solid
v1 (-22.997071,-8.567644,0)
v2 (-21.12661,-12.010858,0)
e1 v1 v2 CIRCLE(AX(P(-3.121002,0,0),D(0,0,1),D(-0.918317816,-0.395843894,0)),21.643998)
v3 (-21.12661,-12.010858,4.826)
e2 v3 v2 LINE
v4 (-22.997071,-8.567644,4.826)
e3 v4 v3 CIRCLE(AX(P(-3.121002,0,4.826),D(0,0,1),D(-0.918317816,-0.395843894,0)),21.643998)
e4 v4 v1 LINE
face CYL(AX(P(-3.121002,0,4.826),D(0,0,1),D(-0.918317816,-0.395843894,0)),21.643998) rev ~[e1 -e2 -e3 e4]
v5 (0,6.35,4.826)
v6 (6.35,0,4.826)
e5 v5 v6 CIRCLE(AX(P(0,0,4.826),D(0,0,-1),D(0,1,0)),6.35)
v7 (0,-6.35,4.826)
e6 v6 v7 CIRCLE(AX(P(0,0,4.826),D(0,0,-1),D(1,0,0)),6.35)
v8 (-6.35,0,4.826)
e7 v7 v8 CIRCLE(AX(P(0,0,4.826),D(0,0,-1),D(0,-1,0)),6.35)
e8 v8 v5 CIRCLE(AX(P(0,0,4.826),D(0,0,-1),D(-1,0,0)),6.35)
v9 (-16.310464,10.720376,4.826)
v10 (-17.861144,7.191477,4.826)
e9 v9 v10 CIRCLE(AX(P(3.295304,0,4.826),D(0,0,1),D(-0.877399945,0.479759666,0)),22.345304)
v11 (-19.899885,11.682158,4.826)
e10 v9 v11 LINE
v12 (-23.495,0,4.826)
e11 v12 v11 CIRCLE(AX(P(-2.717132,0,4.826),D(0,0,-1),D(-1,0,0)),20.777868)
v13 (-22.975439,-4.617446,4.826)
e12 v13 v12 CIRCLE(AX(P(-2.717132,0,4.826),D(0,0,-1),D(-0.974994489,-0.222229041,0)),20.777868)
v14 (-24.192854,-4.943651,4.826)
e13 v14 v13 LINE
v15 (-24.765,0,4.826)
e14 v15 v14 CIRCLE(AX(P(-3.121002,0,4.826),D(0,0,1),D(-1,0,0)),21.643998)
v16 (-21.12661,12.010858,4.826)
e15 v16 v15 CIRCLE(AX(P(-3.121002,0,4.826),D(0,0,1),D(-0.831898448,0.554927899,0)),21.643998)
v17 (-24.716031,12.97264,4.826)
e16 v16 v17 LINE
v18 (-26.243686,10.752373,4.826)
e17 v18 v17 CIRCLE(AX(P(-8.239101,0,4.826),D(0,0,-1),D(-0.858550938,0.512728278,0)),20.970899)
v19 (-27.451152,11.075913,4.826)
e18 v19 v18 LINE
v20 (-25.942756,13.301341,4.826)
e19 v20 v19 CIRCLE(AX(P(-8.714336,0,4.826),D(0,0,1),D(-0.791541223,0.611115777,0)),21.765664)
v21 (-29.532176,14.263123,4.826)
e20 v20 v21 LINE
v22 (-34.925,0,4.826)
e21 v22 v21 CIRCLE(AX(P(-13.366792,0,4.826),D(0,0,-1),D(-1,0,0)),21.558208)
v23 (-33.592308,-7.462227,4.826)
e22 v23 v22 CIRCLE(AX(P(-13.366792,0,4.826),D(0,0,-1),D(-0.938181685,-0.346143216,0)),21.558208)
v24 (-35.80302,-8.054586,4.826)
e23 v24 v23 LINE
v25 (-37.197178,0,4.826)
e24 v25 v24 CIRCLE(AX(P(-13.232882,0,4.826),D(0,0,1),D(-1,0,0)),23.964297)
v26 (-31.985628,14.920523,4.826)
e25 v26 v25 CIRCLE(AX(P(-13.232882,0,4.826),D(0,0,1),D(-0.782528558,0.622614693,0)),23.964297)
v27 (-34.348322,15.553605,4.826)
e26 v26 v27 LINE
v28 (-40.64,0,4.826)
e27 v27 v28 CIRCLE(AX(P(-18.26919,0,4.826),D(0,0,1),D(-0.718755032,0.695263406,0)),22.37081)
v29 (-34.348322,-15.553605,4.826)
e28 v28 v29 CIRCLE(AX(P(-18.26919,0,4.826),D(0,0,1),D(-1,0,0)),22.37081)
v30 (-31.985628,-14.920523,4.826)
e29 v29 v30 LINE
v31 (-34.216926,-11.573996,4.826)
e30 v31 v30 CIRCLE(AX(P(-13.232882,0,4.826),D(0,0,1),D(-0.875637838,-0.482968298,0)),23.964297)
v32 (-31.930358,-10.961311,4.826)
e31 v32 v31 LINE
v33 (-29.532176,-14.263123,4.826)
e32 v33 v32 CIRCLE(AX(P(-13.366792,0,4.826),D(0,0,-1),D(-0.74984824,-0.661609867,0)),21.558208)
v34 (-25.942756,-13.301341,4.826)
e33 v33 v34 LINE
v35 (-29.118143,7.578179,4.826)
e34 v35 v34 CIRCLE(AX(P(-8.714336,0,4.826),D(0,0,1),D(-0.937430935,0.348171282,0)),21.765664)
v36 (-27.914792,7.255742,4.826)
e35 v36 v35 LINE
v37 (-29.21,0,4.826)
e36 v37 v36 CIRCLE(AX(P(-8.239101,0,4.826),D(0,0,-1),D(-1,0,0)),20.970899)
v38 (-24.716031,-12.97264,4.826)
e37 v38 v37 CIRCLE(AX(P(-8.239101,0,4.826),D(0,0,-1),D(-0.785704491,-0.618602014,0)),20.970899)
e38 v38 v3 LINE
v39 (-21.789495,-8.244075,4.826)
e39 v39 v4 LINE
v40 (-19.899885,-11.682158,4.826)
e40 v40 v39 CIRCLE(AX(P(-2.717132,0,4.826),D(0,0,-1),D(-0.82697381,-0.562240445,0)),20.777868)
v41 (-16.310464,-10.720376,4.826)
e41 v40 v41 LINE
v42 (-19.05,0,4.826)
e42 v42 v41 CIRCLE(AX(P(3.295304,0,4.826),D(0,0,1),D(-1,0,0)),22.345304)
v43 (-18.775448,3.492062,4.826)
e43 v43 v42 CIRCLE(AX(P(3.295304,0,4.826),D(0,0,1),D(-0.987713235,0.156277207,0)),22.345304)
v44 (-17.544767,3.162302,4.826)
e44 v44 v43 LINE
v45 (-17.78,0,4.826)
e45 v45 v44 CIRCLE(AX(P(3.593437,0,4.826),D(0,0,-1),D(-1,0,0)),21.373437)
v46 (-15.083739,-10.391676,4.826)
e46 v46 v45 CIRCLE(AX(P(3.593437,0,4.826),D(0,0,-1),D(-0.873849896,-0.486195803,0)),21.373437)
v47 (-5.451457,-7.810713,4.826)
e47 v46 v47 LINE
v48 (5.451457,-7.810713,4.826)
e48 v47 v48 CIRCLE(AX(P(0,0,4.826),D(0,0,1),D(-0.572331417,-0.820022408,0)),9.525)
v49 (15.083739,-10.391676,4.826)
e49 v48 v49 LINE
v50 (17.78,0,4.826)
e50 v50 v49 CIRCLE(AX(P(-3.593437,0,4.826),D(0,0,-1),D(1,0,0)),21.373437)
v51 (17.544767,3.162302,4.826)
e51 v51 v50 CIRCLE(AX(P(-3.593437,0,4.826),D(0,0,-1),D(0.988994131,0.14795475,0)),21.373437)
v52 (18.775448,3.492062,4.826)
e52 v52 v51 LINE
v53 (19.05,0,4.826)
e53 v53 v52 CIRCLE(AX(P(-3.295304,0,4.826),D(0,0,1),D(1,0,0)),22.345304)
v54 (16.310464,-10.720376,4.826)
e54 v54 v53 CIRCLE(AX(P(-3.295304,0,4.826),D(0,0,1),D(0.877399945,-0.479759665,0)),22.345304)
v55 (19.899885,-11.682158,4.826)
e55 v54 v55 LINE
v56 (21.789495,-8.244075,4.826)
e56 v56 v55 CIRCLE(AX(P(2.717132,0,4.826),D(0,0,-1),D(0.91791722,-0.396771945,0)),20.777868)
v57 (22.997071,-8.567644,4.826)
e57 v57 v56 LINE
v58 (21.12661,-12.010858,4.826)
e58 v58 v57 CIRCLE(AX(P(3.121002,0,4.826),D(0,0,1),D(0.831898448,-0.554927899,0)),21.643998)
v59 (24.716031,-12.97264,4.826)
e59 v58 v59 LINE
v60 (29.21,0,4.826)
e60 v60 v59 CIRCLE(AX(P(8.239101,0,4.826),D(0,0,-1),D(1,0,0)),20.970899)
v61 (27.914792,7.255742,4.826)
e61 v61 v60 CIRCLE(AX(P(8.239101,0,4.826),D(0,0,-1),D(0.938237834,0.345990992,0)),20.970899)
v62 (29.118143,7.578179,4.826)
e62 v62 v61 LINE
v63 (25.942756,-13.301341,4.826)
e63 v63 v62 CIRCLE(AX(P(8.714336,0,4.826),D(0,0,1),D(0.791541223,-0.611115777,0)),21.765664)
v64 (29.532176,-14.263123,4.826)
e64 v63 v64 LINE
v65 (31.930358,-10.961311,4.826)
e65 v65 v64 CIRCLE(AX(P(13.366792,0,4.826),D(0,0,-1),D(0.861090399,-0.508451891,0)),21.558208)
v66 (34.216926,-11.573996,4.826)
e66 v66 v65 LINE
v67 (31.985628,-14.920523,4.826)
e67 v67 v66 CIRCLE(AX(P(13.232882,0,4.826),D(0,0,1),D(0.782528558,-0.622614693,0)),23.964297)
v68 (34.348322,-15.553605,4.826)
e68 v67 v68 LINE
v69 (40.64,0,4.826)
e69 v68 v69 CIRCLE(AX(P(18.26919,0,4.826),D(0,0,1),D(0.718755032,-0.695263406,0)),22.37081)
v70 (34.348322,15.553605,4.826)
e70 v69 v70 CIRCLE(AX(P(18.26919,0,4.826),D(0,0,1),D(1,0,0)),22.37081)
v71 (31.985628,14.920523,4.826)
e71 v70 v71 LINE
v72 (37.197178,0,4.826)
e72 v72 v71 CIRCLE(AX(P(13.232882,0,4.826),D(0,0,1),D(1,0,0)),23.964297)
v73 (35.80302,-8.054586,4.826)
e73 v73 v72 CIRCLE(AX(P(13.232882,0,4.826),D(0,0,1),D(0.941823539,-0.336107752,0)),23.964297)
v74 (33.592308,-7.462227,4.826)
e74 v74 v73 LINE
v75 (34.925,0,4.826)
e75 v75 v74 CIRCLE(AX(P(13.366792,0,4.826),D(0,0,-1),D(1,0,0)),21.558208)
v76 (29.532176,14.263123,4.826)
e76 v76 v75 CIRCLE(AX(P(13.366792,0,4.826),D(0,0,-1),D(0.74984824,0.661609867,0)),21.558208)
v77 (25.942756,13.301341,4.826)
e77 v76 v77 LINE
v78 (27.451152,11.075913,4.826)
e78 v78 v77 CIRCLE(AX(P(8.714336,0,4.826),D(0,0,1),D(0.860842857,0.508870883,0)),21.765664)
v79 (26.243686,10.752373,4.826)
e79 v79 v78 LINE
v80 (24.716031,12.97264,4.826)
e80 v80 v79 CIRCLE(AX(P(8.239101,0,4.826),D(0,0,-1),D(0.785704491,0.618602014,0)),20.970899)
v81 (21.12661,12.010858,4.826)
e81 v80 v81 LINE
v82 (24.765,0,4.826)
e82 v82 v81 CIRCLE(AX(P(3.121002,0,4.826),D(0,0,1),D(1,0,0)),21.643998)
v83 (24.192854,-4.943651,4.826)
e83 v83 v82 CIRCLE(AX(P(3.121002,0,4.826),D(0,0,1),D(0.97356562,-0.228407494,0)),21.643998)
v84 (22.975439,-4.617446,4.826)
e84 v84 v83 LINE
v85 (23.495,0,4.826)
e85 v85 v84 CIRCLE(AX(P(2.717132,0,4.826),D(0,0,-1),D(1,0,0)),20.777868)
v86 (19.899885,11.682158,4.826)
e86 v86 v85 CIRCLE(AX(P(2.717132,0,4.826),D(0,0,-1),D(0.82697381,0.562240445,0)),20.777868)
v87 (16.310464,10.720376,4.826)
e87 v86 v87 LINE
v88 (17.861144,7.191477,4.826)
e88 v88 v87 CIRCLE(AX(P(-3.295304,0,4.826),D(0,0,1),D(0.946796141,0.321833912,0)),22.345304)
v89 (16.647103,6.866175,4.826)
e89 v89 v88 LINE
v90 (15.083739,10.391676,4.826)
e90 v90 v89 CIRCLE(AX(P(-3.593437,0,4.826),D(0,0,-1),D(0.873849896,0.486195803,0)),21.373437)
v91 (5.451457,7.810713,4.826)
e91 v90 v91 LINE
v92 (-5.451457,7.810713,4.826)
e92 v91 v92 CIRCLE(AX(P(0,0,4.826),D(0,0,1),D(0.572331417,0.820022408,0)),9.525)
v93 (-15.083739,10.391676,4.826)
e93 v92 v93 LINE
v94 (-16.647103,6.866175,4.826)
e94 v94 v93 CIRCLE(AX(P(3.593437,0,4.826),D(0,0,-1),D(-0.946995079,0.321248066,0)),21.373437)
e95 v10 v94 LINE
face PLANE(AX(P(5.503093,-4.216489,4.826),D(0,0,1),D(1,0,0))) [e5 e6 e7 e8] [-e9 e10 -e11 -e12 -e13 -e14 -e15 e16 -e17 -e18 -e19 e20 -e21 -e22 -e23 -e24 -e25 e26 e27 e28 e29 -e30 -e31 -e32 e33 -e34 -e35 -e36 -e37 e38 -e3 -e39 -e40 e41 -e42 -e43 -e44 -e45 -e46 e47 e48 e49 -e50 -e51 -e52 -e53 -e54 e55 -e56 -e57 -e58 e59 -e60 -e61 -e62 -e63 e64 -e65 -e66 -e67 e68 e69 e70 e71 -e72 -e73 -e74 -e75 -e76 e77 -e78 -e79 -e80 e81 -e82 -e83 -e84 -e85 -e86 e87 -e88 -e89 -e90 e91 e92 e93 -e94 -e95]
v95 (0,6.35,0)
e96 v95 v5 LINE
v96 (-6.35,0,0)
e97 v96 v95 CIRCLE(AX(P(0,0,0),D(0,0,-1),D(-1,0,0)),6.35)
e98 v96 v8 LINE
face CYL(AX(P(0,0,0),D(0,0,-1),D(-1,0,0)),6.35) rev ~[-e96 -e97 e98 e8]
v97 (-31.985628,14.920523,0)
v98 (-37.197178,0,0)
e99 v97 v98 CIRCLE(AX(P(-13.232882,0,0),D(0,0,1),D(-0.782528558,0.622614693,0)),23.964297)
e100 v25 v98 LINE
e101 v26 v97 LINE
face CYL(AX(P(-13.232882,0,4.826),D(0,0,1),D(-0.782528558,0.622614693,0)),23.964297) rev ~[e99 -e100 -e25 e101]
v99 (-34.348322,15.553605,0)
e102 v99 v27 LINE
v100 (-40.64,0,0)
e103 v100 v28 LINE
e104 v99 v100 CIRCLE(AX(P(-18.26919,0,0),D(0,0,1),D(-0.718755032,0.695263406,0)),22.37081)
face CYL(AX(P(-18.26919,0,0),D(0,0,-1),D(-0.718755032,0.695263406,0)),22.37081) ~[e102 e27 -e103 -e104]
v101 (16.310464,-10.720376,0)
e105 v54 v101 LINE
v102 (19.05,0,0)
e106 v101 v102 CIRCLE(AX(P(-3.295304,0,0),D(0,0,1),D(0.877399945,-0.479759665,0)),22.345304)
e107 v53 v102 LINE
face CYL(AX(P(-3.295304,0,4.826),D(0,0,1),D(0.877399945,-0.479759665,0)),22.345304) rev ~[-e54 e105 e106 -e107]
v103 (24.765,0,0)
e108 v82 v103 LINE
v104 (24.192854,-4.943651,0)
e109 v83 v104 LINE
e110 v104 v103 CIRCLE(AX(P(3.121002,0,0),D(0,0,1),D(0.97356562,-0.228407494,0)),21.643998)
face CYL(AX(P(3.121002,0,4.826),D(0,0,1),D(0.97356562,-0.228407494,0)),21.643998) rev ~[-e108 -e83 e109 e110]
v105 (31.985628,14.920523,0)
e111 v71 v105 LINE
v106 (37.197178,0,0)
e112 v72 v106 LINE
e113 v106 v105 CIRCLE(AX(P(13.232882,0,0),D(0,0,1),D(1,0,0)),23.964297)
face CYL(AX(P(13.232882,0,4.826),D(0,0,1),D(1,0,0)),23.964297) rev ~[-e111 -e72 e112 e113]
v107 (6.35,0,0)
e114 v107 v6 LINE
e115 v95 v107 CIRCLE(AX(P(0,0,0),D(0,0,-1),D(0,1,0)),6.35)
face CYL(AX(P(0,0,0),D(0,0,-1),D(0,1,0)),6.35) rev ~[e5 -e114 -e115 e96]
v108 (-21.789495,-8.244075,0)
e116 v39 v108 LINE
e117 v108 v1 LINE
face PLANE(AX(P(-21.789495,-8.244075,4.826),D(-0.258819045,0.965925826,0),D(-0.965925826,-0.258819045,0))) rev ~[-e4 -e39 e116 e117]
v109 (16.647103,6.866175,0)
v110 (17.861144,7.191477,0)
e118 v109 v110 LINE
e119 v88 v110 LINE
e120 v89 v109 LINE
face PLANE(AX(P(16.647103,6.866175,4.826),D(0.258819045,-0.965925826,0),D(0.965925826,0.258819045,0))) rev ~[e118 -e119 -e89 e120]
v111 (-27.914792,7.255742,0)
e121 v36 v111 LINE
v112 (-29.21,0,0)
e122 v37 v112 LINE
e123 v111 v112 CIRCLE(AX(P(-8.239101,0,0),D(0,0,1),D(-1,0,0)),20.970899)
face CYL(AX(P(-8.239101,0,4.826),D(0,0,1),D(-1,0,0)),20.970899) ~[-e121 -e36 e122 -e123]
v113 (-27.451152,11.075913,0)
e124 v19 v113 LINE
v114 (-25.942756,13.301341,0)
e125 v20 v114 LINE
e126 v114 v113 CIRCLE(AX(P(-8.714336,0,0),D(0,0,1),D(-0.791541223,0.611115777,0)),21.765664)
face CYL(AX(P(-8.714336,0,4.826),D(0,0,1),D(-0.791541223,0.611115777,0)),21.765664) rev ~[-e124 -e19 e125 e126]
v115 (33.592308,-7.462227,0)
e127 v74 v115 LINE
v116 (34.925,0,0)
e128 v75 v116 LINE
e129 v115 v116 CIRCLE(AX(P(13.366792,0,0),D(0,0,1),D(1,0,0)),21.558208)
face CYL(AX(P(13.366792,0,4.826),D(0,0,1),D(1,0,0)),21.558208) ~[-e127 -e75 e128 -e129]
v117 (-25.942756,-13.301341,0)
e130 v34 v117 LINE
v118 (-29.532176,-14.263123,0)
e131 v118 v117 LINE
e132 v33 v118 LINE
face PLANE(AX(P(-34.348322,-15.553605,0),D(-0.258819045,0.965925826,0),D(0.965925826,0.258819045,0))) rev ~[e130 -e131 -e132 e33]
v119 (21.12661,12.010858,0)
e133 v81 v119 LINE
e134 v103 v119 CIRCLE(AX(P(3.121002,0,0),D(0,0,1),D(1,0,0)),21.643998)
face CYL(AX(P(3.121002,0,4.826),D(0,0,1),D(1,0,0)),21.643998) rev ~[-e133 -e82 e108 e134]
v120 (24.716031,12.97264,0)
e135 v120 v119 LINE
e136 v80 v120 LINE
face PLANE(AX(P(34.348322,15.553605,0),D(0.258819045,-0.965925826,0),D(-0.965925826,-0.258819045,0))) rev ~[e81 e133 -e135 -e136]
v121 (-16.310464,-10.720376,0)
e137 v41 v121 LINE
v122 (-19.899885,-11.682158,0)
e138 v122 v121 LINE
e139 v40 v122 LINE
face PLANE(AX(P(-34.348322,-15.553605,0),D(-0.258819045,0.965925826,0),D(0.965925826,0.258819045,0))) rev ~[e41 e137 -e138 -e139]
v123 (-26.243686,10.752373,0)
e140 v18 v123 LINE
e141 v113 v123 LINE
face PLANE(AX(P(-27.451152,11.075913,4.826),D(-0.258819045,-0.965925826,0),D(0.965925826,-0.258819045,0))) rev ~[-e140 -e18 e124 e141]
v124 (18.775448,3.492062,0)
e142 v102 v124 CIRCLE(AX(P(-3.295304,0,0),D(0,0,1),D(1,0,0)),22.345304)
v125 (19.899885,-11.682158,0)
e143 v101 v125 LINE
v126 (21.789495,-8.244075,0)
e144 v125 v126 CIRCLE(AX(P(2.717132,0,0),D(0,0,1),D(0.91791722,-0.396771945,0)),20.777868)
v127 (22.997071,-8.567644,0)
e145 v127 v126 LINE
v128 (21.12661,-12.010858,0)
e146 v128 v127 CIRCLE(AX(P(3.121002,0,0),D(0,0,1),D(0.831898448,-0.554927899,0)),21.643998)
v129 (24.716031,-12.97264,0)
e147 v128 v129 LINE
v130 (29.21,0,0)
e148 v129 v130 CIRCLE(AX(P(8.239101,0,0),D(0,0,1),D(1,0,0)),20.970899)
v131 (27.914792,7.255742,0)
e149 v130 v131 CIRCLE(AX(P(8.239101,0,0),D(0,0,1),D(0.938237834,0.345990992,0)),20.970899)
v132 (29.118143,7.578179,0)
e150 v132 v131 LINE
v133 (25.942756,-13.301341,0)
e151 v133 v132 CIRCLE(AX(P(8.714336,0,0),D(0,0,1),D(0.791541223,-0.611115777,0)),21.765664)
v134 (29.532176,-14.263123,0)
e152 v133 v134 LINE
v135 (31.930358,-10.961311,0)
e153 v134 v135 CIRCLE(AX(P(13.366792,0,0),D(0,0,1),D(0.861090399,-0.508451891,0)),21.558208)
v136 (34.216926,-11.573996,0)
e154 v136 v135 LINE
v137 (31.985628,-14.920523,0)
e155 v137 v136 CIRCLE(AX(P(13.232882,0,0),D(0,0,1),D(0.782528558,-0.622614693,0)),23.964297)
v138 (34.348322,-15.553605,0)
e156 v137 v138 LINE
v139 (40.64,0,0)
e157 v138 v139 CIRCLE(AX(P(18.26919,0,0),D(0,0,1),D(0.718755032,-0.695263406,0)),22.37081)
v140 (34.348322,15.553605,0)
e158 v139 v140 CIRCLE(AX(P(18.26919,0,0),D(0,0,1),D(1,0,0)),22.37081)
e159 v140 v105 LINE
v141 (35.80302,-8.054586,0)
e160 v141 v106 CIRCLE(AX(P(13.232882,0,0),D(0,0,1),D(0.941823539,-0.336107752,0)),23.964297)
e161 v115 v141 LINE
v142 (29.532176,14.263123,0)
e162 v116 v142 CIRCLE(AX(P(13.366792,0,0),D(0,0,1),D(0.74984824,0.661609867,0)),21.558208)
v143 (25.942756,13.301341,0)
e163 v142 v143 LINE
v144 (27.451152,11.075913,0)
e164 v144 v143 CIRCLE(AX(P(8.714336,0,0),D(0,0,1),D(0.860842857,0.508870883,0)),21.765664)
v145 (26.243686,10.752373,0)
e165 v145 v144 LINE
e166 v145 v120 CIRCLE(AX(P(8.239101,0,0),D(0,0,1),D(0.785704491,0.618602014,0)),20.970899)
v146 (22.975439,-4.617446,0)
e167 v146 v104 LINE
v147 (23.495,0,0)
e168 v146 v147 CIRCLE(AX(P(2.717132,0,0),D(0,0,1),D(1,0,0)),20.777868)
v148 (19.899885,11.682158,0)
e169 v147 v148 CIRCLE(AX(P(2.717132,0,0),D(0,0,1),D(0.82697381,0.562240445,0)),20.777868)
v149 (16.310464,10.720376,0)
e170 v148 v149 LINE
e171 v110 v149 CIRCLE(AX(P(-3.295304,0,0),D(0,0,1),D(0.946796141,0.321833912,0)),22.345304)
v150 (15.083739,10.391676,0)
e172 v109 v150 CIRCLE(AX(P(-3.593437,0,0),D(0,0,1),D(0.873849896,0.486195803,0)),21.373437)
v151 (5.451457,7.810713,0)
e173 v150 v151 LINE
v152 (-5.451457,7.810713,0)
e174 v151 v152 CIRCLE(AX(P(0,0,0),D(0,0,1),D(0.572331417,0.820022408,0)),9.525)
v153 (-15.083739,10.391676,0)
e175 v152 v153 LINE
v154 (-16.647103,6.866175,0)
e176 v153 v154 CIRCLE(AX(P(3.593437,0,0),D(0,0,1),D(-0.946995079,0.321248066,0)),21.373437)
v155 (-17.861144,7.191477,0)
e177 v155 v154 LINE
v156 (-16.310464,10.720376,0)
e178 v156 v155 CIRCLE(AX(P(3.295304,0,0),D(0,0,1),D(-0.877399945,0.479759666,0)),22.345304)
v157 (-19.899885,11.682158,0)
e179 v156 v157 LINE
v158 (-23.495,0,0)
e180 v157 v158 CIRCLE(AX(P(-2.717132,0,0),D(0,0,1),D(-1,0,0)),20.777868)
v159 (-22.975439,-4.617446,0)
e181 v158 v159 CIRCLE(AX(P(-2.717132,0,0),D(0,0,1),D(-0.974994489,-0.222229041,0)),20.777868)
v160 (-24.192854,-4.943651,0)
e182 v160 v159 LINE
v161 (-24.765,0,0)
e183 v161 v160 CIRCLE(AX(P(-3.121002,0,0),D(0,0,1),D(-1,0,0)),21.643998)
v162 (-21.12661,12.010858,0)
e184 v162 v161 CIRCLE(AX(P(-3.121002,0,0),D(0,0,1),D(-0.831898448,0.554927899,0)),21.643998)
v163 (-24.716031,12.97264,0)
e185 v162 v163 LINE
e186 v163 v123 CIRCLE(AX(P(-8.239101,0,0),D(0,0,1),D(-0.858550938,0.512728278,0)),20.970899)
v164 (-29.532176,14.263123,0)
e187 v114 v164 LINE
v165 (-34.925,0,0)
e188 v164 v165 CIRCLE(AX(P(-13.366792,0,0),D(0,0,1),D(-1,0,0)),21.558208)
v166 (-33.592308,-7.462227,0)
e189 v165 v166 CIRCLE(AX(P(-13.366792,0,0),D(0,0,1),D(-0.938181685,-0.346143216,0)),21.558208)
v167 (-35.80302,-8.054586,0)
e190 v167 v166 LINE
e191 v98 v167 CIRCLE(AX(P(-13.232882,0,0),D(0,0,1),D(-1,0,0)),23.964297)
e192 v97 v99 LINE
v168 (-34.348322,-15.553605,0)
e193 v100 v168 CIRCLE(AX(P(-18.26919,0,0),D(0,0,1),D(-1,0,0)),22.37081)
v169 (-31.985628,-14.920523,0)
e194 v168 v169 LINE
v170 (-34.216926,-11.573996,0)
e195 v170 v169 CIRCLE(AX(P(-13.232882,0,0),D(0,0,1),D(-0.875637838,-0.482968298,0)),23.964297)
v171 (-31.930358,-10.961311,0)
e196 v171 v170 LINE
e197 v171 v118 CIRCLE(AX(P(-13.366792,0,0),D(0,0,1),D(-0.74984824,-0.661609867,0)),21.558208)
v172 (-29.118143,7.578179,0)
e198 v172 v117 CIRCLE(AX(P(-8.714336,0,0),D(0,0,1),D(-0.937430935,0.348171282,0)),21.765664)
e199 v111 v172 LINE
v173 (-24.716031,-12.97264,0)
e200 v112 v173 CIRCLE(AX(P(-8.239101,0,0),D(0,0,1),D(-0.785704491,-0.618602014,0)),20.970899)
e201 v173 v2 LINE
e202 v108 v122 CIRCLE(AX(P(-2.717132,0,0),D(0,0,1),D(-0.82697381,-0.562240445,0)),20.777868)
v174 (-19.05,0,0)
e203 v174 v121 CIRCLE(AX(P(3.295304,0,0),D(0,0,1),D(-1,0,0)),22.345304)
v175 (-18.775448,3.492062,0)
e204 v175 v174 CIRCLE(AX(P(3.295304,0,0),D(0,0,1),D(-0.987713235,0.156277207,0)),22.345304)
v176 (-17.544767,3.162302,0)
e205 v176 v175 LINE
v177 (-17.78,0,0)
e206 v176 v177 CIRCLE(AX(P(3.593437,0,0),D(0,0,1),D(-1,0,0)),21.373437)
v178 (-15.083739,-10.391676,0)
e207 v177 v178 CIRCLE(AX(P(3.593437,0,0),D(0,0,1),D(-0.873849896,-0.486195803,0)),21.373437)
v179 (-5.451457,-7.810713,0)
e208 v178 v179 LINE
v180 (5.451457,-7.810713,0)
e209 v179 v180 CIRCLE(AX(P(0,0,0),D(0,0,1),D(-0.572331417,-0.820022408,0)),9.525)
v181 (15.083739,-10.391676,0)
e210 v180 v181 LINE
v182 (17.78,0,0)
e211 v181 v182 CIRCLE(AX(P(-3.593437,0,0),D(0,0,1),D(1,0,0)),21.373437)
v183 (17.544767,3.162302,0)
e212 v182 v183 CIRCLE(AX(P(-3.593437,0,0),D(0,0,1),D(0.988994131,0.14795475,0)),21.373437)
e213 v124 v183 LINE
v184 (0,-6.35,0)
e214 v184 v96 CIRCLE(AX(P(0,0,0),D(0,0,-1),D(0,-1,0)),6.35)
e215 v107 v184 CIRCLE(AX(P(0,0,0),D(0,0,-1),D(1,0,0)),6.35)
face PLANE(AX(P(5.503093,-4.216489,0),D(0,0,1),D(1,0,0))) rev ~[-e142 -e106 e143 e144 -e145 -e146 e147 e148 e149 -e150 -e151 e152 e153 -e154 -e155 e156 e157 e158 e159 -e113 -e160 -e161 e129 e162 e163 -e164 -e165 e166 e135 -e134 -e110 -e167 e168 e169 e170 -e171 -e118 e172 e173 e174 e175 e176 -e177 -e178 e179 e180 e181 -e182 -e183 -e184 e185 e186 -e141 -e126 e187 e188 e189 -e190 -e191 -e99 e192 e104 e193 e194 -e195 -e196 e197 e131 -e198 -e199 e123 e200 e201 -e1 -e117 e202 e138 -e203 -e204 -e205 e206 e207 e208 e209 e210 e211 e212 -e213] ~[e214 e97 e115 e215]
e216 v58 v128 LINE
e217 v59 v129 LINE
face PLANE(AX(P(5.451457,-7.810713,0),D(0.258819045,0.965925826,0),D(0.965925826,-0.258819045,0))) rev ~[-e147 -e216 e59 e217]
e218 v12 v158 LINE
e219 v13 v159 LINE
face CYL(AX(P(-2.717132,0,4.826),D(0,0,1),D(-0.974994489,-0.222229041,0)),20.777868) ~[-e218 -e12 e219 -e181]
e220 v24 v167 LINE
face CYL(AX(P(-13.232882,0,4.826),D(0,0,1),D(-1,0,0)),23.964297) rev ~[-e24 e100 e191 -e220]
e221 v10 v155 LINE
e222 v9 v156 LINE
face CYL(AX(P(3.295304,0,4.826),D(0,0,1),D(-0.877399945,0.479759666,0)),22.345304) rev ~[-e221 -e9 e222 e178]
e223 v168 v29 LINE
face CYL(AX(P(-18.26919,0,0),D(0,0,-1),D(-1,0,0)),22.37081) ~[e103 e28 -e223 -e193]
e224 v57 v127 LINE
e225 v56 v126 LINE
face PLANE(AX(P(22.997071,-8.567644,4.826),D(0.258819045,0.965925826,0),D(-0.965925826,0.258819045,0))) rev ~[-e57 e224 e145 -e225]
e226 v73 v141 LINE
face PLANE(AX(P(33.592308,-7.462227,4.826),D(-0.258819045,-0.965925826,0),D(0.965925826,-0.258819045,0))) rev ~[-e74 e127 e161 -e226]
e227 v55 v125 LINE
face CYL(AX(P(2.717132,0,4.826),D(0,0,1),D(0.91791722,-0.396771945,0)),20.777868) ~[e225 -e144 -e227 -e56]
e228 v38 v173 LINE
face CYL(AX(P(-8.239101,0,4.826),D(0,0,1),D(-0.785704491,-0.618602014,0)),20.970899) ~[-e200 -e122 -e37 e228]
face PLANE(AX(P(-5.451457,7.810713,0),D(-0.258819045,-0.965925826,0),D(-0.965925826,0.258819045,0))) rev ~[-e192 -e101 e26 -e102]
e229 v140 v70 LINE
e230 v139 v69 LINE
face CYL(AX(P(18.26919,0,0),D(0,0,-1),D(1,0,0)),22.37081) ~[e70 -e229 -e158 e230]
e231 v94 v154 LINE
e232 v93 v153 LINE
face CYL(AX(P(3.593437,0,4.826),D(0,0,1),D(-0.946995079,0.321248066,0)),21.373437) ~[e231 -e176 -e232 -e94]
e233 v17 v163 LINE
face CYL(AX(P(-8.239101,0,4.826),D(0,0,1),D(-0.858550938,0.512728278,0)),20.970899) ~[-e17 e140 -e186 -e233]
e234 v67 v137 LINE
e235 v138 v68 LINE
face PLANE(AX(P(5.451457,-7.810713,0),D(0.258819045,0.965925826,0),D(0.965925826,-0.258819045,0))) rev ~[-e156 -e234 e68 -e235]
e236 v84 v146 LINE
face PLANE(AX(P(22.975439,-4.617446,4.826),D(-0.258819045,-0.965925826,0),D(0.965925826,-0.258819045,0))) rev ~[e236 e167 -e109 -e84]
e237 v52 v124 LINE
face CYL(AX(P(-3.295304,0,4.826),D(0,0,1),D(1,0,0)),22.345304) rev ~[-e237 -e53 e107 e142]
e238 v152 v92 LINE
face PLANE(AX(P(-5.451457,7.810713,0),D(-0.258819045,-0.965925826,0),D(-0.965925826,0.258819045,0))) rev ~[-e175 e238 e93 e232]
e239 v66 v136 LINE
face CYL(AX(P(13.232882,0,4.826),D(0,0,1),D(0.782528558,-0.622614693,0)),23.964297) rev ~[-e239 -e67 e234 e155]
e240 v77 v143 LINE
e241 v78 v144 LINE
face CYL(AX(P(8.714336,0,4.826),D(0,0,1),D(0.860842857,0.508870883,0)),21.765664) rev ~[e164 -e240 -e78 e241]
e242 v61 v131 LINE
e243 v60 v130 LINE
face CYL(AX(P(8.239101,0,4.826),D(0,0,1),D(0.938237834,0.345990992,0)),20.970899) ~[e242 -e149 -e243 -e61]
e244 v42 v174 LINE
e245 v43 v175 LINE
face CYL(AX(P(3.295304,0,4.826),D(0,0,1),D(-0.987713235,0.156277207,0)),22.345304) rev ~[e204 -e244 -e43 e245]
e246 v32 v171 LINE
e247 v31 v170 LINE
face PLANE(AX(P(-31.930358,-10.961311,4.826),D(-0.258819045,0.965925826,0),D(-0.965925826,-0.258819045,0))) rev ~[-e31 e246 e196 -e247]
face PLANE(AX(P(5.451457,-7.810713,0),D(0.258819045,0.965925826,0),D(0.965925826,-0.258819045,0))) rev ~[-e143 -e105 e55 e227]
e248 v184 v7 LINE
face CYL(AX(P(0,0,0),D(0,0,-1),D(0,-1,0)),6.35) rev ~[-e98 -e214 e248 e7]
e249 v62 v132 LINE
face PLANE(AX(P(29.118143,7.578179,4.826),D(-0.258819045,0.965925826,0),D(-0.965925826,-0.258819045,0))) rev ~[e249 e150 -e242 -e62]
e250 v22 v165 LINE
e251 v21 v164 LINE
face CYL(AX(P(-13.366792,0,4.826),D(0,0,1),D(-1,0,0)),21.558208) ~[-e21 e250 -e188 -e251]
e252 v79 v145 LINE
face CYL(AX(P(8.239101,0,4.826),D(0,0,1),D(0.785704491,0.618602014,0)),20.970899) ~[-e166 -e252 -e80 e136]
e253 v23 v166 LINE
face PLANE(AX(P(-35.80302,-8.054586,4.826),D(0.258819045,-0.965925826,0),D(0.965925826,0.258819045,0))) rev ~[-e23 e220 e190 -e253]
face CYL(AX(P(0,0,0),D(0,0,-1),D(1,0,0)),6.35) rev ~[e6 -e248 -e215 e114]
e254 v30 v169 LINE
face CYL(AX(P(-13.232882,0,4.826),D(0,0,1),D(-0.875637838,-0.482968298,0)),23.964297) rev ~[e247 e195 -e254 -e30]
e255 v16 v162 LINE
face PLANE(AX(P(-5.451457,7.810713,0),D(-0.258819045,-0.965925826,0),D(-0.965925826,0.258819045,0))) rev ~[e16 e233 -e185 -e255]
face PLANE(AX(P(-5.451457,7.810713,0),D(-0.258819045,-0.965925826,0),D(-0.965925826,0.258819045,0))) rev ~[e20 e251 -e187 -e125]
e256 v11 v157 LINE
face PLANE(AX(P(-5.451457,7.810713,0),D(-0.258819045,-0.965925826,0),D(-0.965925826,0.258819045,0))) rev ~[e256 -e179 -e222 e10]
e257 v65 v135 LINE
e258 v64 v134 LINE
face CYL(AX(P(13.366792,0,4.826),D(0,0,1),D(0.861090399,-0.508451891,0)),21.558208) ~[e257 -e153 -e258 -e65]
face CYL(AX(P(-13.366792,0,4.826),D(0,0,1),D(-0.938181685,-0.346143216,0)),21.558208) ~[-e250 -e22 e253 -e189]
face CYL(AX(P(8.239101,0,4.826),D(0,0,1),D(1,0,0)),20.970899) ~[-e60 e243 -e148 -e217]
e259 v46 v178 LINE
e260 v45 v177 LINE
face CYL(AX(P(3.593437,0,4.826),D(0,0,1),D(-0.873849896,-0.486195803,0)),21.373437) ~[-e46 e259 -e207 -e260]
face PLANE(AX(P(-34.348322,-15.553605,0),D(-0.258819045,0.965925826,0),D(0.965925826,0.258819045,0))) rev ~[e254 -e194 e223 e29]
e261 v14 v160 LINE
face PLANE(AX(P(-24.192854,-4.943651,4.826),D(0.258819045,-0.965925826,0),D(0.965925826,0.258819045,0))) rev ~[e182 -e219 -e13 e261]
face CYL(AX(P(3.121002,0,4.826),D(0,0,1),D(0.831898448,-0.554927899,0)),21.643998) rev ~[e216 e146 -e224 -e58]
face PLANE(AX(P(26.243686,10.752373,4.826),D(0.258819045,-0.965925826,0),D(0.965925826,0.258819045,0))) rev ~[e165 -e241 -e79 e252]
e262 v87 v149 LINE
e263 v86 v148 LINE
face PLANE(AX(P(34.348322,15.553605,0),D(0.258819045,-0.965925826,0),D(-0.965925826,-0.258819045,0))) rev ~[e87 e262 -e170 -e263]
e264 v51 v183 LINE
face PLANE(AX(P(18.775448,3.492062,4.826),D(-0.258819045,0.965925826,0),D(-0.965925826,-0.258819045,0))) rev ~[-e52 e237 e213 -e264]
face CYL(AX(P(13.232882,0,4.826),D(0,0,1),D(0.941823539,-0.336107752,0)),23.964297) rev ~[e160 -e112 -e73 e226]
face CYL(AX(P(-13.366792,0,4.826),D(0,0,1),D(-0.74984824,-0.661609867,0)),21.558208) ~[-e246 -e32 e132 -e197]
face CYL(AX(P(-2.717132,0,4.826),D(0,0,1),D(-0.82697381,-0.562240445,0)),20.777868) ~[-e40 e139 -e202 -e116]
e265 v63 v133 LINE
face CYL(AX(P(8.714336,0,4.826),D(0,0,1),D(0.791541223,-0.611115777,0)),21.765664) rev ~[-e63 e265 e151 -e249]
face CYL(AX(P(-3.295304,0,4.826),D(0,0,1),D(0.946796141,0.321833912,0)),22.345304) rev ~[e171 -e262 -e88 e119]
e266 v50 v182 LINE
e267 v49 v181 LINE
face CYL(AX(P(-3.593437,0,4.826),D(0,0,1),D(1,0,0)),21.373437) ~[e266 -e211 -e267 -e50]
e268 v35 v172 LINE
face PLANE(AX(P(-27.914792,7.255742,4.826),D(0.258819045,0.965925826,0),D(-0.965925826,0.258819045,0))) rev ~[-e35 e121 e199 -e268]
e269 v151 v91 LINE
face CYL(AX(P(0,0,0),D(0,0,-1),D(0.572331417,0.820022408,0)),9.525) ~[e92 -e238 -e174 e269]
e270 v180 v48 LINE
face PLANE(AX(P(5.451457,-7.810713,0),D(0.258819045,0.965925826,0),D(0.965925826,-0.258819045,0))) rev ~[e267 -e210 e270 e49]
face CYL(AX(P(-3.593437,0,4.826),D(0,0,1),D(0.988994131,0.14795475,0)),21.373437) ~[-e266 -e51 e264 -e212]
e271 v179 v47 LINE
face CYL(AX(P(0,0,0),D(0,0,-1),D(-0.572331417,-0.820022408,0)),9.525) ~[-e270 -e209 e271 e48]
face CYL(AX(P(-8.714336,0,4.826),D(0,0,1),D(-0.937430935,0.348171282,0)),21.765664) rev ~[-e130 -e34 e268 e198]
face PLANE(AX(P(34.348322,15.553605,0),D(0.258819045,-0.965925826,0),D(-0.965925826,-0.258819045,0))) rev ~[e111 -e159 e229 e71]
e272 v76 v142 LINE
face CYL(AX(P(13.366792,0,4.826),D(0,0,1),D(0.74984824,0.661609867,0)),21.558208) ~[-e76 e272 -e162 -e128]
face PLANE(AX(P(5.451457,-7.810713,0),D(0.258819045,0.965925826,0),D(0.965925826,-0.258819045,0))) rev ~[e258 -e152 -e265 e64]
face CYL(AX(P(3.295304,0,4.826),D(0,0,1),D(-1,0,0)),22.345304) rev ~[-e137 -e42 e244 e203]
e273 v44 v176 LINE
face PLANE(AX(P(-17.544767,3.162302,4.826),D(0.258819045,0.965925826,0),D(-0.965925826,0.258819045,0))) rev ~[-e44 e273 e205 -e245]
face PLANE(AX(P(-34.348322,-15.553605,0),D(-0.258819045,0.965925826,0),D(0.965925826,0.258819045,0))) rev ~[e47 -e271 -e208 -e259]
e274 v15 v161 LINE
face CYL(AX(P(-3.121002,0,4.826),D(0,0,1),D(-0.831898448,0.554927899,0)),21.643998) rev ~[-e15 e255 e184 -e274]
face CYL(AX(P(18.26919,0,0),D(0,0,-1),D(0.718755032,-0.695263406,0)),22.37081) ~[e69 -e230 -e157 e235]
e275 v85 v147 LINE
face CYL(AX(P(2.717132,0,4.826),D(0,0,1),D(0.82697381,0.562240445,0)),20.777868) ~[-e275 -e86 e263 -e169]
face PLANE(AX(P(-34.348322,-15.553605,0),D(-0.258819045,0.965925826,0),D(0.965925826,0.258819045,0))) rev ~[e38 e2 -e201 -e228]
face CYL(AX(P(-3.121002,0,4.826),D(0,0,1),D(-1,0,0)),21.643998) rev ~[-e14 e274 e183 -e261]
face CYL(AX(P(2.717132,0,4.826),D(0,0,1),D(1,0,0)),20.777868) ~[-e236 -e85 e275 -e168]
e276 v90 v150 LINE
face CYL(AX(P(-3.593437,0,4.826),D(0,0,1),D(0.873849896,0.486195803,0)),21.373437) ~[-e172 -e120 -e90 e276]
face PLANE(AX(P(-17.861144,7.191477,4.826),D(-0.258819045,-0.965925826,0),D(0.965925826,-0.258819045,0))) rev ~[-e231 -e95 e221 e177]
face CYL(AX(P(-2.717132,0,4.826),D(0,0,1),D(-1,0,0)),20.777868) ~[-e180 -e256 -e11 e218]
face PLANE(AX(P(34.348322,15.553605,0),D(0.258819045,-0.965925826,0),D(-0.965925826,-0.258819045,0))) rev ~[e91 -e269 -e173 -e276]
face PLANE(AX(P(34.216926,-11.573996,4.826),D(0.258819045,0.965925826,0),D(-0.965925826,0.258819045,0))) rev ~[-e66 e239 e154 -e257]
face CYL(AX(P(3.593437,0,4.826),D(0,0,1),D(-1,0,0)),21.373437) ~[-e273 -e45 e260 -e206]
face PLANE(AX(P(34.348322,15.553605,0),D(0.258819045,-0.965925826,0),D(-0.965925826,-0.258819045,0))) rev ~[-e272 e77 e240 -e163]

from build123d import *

# Parameters (mm, degrees)
F1_DEPTH = 4.826
F3_DEPTH = 25.4


with BuildPart() as f1:
    # F0 (on Top) → F1 (new body)
    with BuildSketch(Plane.XY):
        with BuildLine():
            Line((9.525, 0), (6.35, 0))
            ThreePointArc((6.35, 0), (4.4901280605, -4.4901280605), (0, -6.35))
            Line((0, -6.35), (5.4514567473, -7.810713433))
            ThreePointArc((5.4514567473, -7.810713433), (8.4454351729, -4.4045714594), (9.525, 0))
        make_face()
        with BuildLine():
            ThreePointArc((0, 6.35), (4.4901280605, 4.4901280605), (6.35, 0))
            Line((6.35, 0), (9.525, 0))
            ThreePointArc((9.525, 0), (8.4454351729, 4.4045714594), (5.4514567473, 7.810713433))
            Line((5.4514567473, 7.810713433), (0, 6.35))
        make_face()
        with BuildLine():
            Line((-5.4514567473, 7.810713433), (0, 6.35))
            Line((0, 6.35), (5.4514567473, 7.810713433))
            ThreePointArc((5.4514567473, 7.810713433), (0, 9.525), (-5.4514567473, 7.810713433))
        make_face()
        with BuildLine():
            ThreePointArc((-6.35, 0), (-4.4901280605, 4.4901280605), (0, 6.35))
            Line((0, 6.35), (-5.4514567473, 7.810713433))
            ThreePointArc((-5.4514567473, 7.810713433), (-8.4454351729, 4.4045714594), (-9.525, 0))
            Line((-9.525, 0), (-6.35, 0))
        make_face()
        with BuildLine():
            Line((-5.4514567473, -7.810713433), (0, -6.35))
            ThreePointArc((0, -6.35), (-4.4901280605, -4.4901280605), (-6.35, 0))
            Line((-6.35, 0), (-9.525, 0))
            ThreePointArc((-9.525, 0), (-8.4454351729, -4.4045714594), (-5.4514567473, -7.810713433))
        make_face()
        with BuildLine():
            Line((5.4514567473, -7.810713433), (0, -6.35))
            Line((0, -6.35), (-5.4514567473, -7.810713433))
            ThreePointArc((-5.4514567473, -7.810713433), (0, -9.525), (5.4514567473, -7.810713433))
        make_face()
        with BuildLine():
            Line((40.64, 0), (9.525, 0))
            ThreePointArc((9.525, 0), (8.4454351729, -4.4045714594), (5.4514567473, -7.810713433))
            Line((5.4514567473, -7.810713433), (34.3483223828, -15.5536052438))
            ThreePointArc((34.3483223828, -15.5536052438), (39.0075163, -8.3889785332), (40.64, 0))
        make_face()
        with BuildLine():
            ThreePointArc((5.4514567473, 7.810713433), (8.4454351729, 4.4045714594), (9.525, 0))
            Line((9.525, 0), (40.64, 0))
            ThreePointArc((40.64, 0), (39.0075163, 8.3889785332), (34.3483223828, 15.5536052438))
            Line((34.3483223828, 15.5536052438), (5.4514567473, 7.810713433))
        make_face()
        with BuildLine():
            ThreePointArc((-9.525, 0), (-8.4454351729, 4.4045714594), (-5.4514567473, 7.810713433))
            Line((-5.4514567473, 7.810713433), (-34.3483223828, 15.5536052438))
            ThreePointArc((-34.3483223828, 15.5536052438), (-39.0075163, 8.3889785332), (-40.64, 0))
            Line((-40.64, 0), (-9.525, 0))
        make_face()
        with BuildLine():
            Line((-34.3483223828, -15.5536052438), (-5.4514567473, -7.810713433))
            ThreePointArc((-5.4514567473, -7.810713433), (-8.4454351729, -4.4045714594), (-9.525, 0))
            Line((-9.525, 0), (-40.64, 0))
            ThreePointArc((-40.64, 0), (-39.0075163, -8.3889785332), (-34.3483223828, -15.5536052438))
        make_face()
    extrude(amount=F1_DEPTH)

    # F2 (on face) → F3 (cut)
    with BuildSketch(Plane.XY.offset(4.826)):
        with BuildLine():
            ThreePointArc((-33.5923079354, -7.4622272885), (-34.5892118857, -3.7901485539), (-34.925, 0))
            Line((-34.925, 0), (-37.1971782011, 0))
            ThreePointArc((-37.1971782011, 0), (-36.846066564, -4.0871759774), (-35.8030202404, -8.0545858653))
            Line((-35.8030202404, -8.0545858653), (-33.5923079354, -7.4622272885))
        make_face()
        with BuildLine():
            Line((-37.1971782011, 0), (-34.925, 0))
            ThreePointArc((-34.925, 0), (-33.5317746734, 7.6242904379), (-29.532176449, 14.2631228302))
            Line((-29.532176449, 14.2631228302), (-31.9856280478, 14.9205232048))
            ThreePointArc((-31.9856280478, 14.9205232048), (-35.8568057684, 7.9022507507), (-37.1971782011, 0))
        make_face()
        with BuildLine():
            Line((-31.9856280478, -14.9205232048), (-29.532176449, -14.2631228302))
            ThreePointArc((-29.532176449, -14.2631228302), (-30.8095695693, -12.6690899076), (-31.930357985, -10.9613113888))
            Line((-31.930357985, -10.9613113888), (-34.2169264562, -11.5739955641))
            ThreePointArc((-34.2169264562, -11.5739955641), (-33.1716116897, -13.294154894), (-31.9856280478, -14.9205232048))
        make_face()
        with BuildLine():
            ThreePointArc((-24.7160305152, -12.9726404166), (-28.0546836255, -6.8644949033), (-29.21, 0))
            Line((-29.21, 0), (-30.48, 0))
            ThreePointArc((-30.48, 0), (-29.3144832952, -7.0269524355), (-25.9427563146, -13.3013406039))
            Line((-25.9427563146, -13.3013406039), (-24.7160305152, -12.9726404166))
        make_face()
        with BuildLine():
            ThreePointArc((-26.2436859957, 10.7523729707), (-25.5155620849, 11.887072721), (-24.7160305152, 12.9726404166))
            Line((-24.7160305152, 12.9726404166), (-25.9427563146, 13.3013406039))
            ThreePointArc((-25.9427563146, 13.3013406039), (-26.731347274, 12.2119381475), (-27.4511523902, 11.075912616))
            Line((-27.4511523902, 11.075912616), (-26.2436859957, 10.7523729707))
        make_face()
        with BuildLine():
            Line((-30.48, 0), (-29.21, 0))
            ThreePointArc((-29.21, 0), (-28.8836587626, 3.6852190858), (-27.9147918493, 7.2557421873))
            Line((-27.9147918493, 7.2557421873), (-29.1181427694, 7.5781790945))
            ThreePointArc((-29.1181427694, 7.5781790945), (-30.1368303905, 3.8497874456), (-30.48, 0))
        make_face()
        with BuildLine():
            Line((-24.765, 0), (-23.495, 0))
            ThreePointArc((-23.495, 0), (-22.5758928334, 6.1114169896), (-19.8998845814, 11.6821580031))
            Line((-19.8998845814, 11.6821580031), (-21.1266103808, 12.0108581903))
            ThreePointArc((-21.1266103808, 12.0108581903), (-23.8354414226, 6.2749221806), (-24.765, 0))
        make_face()
        with BuildLine():
            ThreePointArc((-22.975438781, -4.6174457724), (-23.3647011405, -2.3232923472), (-23.495, 0))
            Line((-23.495, 0), (-24.765, 0))
            ThreePointArc((-24.765, 0), (-24.6214878009, -2.4883246732), (-24.192854341, -4.9436512885))
            Line((-24.192854341, -4.9436512885), (-22.975438781, -4.6174457724))
        make_face()
        with BuildLine():
            Line((-21.1266103808, -12.0108581903), (-19.8998845814, -11.6821580031))
            ThreePointArc((-19.8998845814, -11.6821580031), (-20.9260158473, -10.0078144461), (-21.789494801, -8.2440752881))
            Line((-21.789494801, -8.2440752881), (-22.9970709968, -8.5676443545))
            ThreePointArc((-22.9970709968, -8.5676443545), (-22.1399215448, -10.3316672167), (-21.1266103808, -12.0108581903))
        make_face()
        with BuildLine():
            ThreePointArc((-15.0837386475, -10.3916755895), (-17.09495644, -5.3678847519), (-17.78, 0))
            Line((-17.78, 0), (-19.05, 0))
            ThreePointArc((-19.05, 0), (-18.354285684, -5.5324386992), (-16.3104644469, -10.7203757767))
            Line((-16.3104644469, -10.7203757767), (-15.0837386475, -10.3916755895))
        make_face()
        with BuildLine():
            Line((-19.05, 0), (-17.78, 0))
            ThreePointArc((-17.78, 0), (-17.7211105613, 1.5855193171), (-17.544766757, 3.1623015892))
            Line((-17.544766757, 3.1623015892), (-18.7754484951, 3.4920617671))
            ThreePointArc((-18.7754484951, 3.4920617671), (-18.9812563815, 1.75141899), (-19.05, 0))
        make_face()
        with BuildLine():
            Line((-17.8611435758, 7.1914767497), (-16.6471026371, 6.8661754606))
            ThreePointArc((-16.6471026371, 6.8661754606), (-15.9451000092, 8.6642589099), (-15.0837386475, 10.3916755895))
            Line((-15.0837386475, 10.3916755895), (-16.3104644469, 10.7203757767))
            ThreePointArc((-16.3104644469, 10.7203757767), (-17.1620380999, 8.9894252693), (-17.8611435758, 7.1914767497))
        make_face()
        with BuildLine():
            Line((19.05, 0), (17.78, 0))
            ThreePointArc((17.78, 0), (17.09495644, -5.3678847519), (15.0837386475, -10.3916755895))
            Line((15.0837386475, -10.3916755895), (16.3104644469, -10.7203757767))
            ThreePointArc((16.3104644469, -10.7203757767), (18.354285684, -5.5324386992), (19.05, 0))
        make_face()
        with BuildLine():
            ThreePointArc((17.544766757, 3.1623015892), (17.7211105613, 1.5855193171), (17.78, 0))
            Line((17.78, 0), (19.05, 0))
            ThreePointArc((19.05, 0), (18.9812563815, 1.75141899), (18.7754484951, 3.4920617671))
            Line((18.7754484951, 3.4920617671), (17.544766757, 3.1623015892))
        make_face()
        with BuildLine():
            ThreePointArc((15.0837386475, 10.3916755895), (15.9451000092, 8.6642589099), (16.6471026371, 6.8661754606))
            Line((16.6471026371, 6.8661754606), (17.8611435758, 7.1914767497))
            ThreePointArc((17.8611435758, 7.1914767497), (17.1620380999, 8.9894252693), (16.3104644469, 10.7203757767))
            Line((16.3104644469, 10.7203757767), (15.0837386475, 10.3916755895))
        make_face()
        with BuildLine():
            ThreePointArc((19.8998845814, 11.6821580031), (22.5758928334, 6.1114169896), (23.495, 0))
            Line((23.495, 0), (24.765, 0))
            ThreePointArc((24.765, 0), (23.8354414226, 6.2749221806), (21.1266103808, 12.0108581903))
            Line((21.1266103808, 12.0108581903), (19.8998845814, 11.6821580031))
        make_face()
        with BuildLine():
            Line((24.765, 0), (23.495, 0))
            ThreePointArc((23.495, 0), (23.3647011405, -2.3232923472), (22.975438781, -4.6174457724))
            Line((22.975438781, -4.6174457724), (24.192854341, -4.9436512885))
            ThreePointArc((24.192854341, -4.9436512885), (24.6214878009, -2.4883246732), (24.765, 0))
        make_face()
        with BuildLine():
            ThreePointArc((21.789494801, -8.2440752881), (20.9260158473, -10.0078144461), (19.8998845814, -11.6821580031))
            Line((19.8998845814, -11.6821580031), (21.1266103808, -12.0108581903))
            ThreePointArc((21.1266103808, -12.0108581903), (22.1399215448, -10.3316672167), (22.9970709968, -8.5676443545))
            Line((22.9970709968, -8.5676443545), (21.789494801, -8.2440752881))
        make_face()
        with BuildLine():
            Line((30.48, 0), (29.21, 0))
            ThreePointArc((29.21, 0), (28.0546836255, -6.8644949033), (24.7160305152, -12.9726404166))
            Line((24.7160305152, -12.9726404166), (25.9427563146, -13.3013406039))
            ThreePointArc((25.9427563146, -13.3013406039), (29.3144832952, -7.0269524355), (30.48, 0))
        make_face()
        with BuildLine():
            ThreePointArc((27.9147918493, 7.2557421873), (28.8836587626, 3.6852190858), (29.21, 0))
            Line((29.21, 0), (30.48, 0))
            ThreePointArc((30.48, 0), (30.1368303905, 3.8497874456), (29.1181427694, 7.5781790945))
            Line((29.1181427694, 7.5781790945), (27.9147918493, 7.2557421873))
        make_face()
        with BuildLine():
            Line((25.9427563146, 13.3013406039), (24.7160305152, 12.9726404166))
            ThreePointArc((24.7160305152, 12.9726404166), (25.5155620849, 11.887072721), (26.2436859957, 10.7523729707))
            Line((26.2436859957, 10.7523729707), (27.4511523902, 11.075912616))
            ThreePointArc((27.4511523902, 11.075912616), (26.731347274, 12.2119381475), (25.9427563146, 13.3013406039))
        make_face()
        with BuildLine():
            ThreePointArc((29.532176449, 14.2631228302), (33.5317746734, 7.6242904379), (34.925, 0))
            Line((34.925, 0), (37.1971782011, 0))
            ThreePointArc((37.1971782011, 0), (35.8568057684, 7.9022507507), (31.9856280478, 14.9205232048))
            Line((31.9856280478, 14.9205232048), (29.532176449, 14.2631228302))
        make_face()
        with BuildLine():
            Line((37.1971782011, 0), (34.925, 0))
            ThreePointArc((34.925, 0), (34.5892118857, -3.7901485539), (33.5923079354, -7.4622272885))
            Line((33.5923079354, -7.4622272885), (35.8030202404, -8.0545858653))
            ThreePointArc((35.8030202404, -8.0545858653), (36.846066564, -4.0871759774), (37.1971782011, 0))
        make_face()
        with BuildLine():
            ThreePointArc((31.930357985, -10.9613113888), (30.8095695693, -12.6690899076), (29.532176449, -14.2631228302))
            Line((29.532176449, -14.2631228302), (31.9856280478, -14.9205232048))
            ThreePointArc((31.9856280478, -14.9205232048), (33.1716116897, -13.294154894), (34.2169264562, -11.5739955641))
            Line((34.2169264562, -11.5739955641), (31.930357985, -10.9613113888))
        make_face()
    extrude(amount=-F3_DEPTH, mode=Mode.SUBTRACT)


solid = f1.part
